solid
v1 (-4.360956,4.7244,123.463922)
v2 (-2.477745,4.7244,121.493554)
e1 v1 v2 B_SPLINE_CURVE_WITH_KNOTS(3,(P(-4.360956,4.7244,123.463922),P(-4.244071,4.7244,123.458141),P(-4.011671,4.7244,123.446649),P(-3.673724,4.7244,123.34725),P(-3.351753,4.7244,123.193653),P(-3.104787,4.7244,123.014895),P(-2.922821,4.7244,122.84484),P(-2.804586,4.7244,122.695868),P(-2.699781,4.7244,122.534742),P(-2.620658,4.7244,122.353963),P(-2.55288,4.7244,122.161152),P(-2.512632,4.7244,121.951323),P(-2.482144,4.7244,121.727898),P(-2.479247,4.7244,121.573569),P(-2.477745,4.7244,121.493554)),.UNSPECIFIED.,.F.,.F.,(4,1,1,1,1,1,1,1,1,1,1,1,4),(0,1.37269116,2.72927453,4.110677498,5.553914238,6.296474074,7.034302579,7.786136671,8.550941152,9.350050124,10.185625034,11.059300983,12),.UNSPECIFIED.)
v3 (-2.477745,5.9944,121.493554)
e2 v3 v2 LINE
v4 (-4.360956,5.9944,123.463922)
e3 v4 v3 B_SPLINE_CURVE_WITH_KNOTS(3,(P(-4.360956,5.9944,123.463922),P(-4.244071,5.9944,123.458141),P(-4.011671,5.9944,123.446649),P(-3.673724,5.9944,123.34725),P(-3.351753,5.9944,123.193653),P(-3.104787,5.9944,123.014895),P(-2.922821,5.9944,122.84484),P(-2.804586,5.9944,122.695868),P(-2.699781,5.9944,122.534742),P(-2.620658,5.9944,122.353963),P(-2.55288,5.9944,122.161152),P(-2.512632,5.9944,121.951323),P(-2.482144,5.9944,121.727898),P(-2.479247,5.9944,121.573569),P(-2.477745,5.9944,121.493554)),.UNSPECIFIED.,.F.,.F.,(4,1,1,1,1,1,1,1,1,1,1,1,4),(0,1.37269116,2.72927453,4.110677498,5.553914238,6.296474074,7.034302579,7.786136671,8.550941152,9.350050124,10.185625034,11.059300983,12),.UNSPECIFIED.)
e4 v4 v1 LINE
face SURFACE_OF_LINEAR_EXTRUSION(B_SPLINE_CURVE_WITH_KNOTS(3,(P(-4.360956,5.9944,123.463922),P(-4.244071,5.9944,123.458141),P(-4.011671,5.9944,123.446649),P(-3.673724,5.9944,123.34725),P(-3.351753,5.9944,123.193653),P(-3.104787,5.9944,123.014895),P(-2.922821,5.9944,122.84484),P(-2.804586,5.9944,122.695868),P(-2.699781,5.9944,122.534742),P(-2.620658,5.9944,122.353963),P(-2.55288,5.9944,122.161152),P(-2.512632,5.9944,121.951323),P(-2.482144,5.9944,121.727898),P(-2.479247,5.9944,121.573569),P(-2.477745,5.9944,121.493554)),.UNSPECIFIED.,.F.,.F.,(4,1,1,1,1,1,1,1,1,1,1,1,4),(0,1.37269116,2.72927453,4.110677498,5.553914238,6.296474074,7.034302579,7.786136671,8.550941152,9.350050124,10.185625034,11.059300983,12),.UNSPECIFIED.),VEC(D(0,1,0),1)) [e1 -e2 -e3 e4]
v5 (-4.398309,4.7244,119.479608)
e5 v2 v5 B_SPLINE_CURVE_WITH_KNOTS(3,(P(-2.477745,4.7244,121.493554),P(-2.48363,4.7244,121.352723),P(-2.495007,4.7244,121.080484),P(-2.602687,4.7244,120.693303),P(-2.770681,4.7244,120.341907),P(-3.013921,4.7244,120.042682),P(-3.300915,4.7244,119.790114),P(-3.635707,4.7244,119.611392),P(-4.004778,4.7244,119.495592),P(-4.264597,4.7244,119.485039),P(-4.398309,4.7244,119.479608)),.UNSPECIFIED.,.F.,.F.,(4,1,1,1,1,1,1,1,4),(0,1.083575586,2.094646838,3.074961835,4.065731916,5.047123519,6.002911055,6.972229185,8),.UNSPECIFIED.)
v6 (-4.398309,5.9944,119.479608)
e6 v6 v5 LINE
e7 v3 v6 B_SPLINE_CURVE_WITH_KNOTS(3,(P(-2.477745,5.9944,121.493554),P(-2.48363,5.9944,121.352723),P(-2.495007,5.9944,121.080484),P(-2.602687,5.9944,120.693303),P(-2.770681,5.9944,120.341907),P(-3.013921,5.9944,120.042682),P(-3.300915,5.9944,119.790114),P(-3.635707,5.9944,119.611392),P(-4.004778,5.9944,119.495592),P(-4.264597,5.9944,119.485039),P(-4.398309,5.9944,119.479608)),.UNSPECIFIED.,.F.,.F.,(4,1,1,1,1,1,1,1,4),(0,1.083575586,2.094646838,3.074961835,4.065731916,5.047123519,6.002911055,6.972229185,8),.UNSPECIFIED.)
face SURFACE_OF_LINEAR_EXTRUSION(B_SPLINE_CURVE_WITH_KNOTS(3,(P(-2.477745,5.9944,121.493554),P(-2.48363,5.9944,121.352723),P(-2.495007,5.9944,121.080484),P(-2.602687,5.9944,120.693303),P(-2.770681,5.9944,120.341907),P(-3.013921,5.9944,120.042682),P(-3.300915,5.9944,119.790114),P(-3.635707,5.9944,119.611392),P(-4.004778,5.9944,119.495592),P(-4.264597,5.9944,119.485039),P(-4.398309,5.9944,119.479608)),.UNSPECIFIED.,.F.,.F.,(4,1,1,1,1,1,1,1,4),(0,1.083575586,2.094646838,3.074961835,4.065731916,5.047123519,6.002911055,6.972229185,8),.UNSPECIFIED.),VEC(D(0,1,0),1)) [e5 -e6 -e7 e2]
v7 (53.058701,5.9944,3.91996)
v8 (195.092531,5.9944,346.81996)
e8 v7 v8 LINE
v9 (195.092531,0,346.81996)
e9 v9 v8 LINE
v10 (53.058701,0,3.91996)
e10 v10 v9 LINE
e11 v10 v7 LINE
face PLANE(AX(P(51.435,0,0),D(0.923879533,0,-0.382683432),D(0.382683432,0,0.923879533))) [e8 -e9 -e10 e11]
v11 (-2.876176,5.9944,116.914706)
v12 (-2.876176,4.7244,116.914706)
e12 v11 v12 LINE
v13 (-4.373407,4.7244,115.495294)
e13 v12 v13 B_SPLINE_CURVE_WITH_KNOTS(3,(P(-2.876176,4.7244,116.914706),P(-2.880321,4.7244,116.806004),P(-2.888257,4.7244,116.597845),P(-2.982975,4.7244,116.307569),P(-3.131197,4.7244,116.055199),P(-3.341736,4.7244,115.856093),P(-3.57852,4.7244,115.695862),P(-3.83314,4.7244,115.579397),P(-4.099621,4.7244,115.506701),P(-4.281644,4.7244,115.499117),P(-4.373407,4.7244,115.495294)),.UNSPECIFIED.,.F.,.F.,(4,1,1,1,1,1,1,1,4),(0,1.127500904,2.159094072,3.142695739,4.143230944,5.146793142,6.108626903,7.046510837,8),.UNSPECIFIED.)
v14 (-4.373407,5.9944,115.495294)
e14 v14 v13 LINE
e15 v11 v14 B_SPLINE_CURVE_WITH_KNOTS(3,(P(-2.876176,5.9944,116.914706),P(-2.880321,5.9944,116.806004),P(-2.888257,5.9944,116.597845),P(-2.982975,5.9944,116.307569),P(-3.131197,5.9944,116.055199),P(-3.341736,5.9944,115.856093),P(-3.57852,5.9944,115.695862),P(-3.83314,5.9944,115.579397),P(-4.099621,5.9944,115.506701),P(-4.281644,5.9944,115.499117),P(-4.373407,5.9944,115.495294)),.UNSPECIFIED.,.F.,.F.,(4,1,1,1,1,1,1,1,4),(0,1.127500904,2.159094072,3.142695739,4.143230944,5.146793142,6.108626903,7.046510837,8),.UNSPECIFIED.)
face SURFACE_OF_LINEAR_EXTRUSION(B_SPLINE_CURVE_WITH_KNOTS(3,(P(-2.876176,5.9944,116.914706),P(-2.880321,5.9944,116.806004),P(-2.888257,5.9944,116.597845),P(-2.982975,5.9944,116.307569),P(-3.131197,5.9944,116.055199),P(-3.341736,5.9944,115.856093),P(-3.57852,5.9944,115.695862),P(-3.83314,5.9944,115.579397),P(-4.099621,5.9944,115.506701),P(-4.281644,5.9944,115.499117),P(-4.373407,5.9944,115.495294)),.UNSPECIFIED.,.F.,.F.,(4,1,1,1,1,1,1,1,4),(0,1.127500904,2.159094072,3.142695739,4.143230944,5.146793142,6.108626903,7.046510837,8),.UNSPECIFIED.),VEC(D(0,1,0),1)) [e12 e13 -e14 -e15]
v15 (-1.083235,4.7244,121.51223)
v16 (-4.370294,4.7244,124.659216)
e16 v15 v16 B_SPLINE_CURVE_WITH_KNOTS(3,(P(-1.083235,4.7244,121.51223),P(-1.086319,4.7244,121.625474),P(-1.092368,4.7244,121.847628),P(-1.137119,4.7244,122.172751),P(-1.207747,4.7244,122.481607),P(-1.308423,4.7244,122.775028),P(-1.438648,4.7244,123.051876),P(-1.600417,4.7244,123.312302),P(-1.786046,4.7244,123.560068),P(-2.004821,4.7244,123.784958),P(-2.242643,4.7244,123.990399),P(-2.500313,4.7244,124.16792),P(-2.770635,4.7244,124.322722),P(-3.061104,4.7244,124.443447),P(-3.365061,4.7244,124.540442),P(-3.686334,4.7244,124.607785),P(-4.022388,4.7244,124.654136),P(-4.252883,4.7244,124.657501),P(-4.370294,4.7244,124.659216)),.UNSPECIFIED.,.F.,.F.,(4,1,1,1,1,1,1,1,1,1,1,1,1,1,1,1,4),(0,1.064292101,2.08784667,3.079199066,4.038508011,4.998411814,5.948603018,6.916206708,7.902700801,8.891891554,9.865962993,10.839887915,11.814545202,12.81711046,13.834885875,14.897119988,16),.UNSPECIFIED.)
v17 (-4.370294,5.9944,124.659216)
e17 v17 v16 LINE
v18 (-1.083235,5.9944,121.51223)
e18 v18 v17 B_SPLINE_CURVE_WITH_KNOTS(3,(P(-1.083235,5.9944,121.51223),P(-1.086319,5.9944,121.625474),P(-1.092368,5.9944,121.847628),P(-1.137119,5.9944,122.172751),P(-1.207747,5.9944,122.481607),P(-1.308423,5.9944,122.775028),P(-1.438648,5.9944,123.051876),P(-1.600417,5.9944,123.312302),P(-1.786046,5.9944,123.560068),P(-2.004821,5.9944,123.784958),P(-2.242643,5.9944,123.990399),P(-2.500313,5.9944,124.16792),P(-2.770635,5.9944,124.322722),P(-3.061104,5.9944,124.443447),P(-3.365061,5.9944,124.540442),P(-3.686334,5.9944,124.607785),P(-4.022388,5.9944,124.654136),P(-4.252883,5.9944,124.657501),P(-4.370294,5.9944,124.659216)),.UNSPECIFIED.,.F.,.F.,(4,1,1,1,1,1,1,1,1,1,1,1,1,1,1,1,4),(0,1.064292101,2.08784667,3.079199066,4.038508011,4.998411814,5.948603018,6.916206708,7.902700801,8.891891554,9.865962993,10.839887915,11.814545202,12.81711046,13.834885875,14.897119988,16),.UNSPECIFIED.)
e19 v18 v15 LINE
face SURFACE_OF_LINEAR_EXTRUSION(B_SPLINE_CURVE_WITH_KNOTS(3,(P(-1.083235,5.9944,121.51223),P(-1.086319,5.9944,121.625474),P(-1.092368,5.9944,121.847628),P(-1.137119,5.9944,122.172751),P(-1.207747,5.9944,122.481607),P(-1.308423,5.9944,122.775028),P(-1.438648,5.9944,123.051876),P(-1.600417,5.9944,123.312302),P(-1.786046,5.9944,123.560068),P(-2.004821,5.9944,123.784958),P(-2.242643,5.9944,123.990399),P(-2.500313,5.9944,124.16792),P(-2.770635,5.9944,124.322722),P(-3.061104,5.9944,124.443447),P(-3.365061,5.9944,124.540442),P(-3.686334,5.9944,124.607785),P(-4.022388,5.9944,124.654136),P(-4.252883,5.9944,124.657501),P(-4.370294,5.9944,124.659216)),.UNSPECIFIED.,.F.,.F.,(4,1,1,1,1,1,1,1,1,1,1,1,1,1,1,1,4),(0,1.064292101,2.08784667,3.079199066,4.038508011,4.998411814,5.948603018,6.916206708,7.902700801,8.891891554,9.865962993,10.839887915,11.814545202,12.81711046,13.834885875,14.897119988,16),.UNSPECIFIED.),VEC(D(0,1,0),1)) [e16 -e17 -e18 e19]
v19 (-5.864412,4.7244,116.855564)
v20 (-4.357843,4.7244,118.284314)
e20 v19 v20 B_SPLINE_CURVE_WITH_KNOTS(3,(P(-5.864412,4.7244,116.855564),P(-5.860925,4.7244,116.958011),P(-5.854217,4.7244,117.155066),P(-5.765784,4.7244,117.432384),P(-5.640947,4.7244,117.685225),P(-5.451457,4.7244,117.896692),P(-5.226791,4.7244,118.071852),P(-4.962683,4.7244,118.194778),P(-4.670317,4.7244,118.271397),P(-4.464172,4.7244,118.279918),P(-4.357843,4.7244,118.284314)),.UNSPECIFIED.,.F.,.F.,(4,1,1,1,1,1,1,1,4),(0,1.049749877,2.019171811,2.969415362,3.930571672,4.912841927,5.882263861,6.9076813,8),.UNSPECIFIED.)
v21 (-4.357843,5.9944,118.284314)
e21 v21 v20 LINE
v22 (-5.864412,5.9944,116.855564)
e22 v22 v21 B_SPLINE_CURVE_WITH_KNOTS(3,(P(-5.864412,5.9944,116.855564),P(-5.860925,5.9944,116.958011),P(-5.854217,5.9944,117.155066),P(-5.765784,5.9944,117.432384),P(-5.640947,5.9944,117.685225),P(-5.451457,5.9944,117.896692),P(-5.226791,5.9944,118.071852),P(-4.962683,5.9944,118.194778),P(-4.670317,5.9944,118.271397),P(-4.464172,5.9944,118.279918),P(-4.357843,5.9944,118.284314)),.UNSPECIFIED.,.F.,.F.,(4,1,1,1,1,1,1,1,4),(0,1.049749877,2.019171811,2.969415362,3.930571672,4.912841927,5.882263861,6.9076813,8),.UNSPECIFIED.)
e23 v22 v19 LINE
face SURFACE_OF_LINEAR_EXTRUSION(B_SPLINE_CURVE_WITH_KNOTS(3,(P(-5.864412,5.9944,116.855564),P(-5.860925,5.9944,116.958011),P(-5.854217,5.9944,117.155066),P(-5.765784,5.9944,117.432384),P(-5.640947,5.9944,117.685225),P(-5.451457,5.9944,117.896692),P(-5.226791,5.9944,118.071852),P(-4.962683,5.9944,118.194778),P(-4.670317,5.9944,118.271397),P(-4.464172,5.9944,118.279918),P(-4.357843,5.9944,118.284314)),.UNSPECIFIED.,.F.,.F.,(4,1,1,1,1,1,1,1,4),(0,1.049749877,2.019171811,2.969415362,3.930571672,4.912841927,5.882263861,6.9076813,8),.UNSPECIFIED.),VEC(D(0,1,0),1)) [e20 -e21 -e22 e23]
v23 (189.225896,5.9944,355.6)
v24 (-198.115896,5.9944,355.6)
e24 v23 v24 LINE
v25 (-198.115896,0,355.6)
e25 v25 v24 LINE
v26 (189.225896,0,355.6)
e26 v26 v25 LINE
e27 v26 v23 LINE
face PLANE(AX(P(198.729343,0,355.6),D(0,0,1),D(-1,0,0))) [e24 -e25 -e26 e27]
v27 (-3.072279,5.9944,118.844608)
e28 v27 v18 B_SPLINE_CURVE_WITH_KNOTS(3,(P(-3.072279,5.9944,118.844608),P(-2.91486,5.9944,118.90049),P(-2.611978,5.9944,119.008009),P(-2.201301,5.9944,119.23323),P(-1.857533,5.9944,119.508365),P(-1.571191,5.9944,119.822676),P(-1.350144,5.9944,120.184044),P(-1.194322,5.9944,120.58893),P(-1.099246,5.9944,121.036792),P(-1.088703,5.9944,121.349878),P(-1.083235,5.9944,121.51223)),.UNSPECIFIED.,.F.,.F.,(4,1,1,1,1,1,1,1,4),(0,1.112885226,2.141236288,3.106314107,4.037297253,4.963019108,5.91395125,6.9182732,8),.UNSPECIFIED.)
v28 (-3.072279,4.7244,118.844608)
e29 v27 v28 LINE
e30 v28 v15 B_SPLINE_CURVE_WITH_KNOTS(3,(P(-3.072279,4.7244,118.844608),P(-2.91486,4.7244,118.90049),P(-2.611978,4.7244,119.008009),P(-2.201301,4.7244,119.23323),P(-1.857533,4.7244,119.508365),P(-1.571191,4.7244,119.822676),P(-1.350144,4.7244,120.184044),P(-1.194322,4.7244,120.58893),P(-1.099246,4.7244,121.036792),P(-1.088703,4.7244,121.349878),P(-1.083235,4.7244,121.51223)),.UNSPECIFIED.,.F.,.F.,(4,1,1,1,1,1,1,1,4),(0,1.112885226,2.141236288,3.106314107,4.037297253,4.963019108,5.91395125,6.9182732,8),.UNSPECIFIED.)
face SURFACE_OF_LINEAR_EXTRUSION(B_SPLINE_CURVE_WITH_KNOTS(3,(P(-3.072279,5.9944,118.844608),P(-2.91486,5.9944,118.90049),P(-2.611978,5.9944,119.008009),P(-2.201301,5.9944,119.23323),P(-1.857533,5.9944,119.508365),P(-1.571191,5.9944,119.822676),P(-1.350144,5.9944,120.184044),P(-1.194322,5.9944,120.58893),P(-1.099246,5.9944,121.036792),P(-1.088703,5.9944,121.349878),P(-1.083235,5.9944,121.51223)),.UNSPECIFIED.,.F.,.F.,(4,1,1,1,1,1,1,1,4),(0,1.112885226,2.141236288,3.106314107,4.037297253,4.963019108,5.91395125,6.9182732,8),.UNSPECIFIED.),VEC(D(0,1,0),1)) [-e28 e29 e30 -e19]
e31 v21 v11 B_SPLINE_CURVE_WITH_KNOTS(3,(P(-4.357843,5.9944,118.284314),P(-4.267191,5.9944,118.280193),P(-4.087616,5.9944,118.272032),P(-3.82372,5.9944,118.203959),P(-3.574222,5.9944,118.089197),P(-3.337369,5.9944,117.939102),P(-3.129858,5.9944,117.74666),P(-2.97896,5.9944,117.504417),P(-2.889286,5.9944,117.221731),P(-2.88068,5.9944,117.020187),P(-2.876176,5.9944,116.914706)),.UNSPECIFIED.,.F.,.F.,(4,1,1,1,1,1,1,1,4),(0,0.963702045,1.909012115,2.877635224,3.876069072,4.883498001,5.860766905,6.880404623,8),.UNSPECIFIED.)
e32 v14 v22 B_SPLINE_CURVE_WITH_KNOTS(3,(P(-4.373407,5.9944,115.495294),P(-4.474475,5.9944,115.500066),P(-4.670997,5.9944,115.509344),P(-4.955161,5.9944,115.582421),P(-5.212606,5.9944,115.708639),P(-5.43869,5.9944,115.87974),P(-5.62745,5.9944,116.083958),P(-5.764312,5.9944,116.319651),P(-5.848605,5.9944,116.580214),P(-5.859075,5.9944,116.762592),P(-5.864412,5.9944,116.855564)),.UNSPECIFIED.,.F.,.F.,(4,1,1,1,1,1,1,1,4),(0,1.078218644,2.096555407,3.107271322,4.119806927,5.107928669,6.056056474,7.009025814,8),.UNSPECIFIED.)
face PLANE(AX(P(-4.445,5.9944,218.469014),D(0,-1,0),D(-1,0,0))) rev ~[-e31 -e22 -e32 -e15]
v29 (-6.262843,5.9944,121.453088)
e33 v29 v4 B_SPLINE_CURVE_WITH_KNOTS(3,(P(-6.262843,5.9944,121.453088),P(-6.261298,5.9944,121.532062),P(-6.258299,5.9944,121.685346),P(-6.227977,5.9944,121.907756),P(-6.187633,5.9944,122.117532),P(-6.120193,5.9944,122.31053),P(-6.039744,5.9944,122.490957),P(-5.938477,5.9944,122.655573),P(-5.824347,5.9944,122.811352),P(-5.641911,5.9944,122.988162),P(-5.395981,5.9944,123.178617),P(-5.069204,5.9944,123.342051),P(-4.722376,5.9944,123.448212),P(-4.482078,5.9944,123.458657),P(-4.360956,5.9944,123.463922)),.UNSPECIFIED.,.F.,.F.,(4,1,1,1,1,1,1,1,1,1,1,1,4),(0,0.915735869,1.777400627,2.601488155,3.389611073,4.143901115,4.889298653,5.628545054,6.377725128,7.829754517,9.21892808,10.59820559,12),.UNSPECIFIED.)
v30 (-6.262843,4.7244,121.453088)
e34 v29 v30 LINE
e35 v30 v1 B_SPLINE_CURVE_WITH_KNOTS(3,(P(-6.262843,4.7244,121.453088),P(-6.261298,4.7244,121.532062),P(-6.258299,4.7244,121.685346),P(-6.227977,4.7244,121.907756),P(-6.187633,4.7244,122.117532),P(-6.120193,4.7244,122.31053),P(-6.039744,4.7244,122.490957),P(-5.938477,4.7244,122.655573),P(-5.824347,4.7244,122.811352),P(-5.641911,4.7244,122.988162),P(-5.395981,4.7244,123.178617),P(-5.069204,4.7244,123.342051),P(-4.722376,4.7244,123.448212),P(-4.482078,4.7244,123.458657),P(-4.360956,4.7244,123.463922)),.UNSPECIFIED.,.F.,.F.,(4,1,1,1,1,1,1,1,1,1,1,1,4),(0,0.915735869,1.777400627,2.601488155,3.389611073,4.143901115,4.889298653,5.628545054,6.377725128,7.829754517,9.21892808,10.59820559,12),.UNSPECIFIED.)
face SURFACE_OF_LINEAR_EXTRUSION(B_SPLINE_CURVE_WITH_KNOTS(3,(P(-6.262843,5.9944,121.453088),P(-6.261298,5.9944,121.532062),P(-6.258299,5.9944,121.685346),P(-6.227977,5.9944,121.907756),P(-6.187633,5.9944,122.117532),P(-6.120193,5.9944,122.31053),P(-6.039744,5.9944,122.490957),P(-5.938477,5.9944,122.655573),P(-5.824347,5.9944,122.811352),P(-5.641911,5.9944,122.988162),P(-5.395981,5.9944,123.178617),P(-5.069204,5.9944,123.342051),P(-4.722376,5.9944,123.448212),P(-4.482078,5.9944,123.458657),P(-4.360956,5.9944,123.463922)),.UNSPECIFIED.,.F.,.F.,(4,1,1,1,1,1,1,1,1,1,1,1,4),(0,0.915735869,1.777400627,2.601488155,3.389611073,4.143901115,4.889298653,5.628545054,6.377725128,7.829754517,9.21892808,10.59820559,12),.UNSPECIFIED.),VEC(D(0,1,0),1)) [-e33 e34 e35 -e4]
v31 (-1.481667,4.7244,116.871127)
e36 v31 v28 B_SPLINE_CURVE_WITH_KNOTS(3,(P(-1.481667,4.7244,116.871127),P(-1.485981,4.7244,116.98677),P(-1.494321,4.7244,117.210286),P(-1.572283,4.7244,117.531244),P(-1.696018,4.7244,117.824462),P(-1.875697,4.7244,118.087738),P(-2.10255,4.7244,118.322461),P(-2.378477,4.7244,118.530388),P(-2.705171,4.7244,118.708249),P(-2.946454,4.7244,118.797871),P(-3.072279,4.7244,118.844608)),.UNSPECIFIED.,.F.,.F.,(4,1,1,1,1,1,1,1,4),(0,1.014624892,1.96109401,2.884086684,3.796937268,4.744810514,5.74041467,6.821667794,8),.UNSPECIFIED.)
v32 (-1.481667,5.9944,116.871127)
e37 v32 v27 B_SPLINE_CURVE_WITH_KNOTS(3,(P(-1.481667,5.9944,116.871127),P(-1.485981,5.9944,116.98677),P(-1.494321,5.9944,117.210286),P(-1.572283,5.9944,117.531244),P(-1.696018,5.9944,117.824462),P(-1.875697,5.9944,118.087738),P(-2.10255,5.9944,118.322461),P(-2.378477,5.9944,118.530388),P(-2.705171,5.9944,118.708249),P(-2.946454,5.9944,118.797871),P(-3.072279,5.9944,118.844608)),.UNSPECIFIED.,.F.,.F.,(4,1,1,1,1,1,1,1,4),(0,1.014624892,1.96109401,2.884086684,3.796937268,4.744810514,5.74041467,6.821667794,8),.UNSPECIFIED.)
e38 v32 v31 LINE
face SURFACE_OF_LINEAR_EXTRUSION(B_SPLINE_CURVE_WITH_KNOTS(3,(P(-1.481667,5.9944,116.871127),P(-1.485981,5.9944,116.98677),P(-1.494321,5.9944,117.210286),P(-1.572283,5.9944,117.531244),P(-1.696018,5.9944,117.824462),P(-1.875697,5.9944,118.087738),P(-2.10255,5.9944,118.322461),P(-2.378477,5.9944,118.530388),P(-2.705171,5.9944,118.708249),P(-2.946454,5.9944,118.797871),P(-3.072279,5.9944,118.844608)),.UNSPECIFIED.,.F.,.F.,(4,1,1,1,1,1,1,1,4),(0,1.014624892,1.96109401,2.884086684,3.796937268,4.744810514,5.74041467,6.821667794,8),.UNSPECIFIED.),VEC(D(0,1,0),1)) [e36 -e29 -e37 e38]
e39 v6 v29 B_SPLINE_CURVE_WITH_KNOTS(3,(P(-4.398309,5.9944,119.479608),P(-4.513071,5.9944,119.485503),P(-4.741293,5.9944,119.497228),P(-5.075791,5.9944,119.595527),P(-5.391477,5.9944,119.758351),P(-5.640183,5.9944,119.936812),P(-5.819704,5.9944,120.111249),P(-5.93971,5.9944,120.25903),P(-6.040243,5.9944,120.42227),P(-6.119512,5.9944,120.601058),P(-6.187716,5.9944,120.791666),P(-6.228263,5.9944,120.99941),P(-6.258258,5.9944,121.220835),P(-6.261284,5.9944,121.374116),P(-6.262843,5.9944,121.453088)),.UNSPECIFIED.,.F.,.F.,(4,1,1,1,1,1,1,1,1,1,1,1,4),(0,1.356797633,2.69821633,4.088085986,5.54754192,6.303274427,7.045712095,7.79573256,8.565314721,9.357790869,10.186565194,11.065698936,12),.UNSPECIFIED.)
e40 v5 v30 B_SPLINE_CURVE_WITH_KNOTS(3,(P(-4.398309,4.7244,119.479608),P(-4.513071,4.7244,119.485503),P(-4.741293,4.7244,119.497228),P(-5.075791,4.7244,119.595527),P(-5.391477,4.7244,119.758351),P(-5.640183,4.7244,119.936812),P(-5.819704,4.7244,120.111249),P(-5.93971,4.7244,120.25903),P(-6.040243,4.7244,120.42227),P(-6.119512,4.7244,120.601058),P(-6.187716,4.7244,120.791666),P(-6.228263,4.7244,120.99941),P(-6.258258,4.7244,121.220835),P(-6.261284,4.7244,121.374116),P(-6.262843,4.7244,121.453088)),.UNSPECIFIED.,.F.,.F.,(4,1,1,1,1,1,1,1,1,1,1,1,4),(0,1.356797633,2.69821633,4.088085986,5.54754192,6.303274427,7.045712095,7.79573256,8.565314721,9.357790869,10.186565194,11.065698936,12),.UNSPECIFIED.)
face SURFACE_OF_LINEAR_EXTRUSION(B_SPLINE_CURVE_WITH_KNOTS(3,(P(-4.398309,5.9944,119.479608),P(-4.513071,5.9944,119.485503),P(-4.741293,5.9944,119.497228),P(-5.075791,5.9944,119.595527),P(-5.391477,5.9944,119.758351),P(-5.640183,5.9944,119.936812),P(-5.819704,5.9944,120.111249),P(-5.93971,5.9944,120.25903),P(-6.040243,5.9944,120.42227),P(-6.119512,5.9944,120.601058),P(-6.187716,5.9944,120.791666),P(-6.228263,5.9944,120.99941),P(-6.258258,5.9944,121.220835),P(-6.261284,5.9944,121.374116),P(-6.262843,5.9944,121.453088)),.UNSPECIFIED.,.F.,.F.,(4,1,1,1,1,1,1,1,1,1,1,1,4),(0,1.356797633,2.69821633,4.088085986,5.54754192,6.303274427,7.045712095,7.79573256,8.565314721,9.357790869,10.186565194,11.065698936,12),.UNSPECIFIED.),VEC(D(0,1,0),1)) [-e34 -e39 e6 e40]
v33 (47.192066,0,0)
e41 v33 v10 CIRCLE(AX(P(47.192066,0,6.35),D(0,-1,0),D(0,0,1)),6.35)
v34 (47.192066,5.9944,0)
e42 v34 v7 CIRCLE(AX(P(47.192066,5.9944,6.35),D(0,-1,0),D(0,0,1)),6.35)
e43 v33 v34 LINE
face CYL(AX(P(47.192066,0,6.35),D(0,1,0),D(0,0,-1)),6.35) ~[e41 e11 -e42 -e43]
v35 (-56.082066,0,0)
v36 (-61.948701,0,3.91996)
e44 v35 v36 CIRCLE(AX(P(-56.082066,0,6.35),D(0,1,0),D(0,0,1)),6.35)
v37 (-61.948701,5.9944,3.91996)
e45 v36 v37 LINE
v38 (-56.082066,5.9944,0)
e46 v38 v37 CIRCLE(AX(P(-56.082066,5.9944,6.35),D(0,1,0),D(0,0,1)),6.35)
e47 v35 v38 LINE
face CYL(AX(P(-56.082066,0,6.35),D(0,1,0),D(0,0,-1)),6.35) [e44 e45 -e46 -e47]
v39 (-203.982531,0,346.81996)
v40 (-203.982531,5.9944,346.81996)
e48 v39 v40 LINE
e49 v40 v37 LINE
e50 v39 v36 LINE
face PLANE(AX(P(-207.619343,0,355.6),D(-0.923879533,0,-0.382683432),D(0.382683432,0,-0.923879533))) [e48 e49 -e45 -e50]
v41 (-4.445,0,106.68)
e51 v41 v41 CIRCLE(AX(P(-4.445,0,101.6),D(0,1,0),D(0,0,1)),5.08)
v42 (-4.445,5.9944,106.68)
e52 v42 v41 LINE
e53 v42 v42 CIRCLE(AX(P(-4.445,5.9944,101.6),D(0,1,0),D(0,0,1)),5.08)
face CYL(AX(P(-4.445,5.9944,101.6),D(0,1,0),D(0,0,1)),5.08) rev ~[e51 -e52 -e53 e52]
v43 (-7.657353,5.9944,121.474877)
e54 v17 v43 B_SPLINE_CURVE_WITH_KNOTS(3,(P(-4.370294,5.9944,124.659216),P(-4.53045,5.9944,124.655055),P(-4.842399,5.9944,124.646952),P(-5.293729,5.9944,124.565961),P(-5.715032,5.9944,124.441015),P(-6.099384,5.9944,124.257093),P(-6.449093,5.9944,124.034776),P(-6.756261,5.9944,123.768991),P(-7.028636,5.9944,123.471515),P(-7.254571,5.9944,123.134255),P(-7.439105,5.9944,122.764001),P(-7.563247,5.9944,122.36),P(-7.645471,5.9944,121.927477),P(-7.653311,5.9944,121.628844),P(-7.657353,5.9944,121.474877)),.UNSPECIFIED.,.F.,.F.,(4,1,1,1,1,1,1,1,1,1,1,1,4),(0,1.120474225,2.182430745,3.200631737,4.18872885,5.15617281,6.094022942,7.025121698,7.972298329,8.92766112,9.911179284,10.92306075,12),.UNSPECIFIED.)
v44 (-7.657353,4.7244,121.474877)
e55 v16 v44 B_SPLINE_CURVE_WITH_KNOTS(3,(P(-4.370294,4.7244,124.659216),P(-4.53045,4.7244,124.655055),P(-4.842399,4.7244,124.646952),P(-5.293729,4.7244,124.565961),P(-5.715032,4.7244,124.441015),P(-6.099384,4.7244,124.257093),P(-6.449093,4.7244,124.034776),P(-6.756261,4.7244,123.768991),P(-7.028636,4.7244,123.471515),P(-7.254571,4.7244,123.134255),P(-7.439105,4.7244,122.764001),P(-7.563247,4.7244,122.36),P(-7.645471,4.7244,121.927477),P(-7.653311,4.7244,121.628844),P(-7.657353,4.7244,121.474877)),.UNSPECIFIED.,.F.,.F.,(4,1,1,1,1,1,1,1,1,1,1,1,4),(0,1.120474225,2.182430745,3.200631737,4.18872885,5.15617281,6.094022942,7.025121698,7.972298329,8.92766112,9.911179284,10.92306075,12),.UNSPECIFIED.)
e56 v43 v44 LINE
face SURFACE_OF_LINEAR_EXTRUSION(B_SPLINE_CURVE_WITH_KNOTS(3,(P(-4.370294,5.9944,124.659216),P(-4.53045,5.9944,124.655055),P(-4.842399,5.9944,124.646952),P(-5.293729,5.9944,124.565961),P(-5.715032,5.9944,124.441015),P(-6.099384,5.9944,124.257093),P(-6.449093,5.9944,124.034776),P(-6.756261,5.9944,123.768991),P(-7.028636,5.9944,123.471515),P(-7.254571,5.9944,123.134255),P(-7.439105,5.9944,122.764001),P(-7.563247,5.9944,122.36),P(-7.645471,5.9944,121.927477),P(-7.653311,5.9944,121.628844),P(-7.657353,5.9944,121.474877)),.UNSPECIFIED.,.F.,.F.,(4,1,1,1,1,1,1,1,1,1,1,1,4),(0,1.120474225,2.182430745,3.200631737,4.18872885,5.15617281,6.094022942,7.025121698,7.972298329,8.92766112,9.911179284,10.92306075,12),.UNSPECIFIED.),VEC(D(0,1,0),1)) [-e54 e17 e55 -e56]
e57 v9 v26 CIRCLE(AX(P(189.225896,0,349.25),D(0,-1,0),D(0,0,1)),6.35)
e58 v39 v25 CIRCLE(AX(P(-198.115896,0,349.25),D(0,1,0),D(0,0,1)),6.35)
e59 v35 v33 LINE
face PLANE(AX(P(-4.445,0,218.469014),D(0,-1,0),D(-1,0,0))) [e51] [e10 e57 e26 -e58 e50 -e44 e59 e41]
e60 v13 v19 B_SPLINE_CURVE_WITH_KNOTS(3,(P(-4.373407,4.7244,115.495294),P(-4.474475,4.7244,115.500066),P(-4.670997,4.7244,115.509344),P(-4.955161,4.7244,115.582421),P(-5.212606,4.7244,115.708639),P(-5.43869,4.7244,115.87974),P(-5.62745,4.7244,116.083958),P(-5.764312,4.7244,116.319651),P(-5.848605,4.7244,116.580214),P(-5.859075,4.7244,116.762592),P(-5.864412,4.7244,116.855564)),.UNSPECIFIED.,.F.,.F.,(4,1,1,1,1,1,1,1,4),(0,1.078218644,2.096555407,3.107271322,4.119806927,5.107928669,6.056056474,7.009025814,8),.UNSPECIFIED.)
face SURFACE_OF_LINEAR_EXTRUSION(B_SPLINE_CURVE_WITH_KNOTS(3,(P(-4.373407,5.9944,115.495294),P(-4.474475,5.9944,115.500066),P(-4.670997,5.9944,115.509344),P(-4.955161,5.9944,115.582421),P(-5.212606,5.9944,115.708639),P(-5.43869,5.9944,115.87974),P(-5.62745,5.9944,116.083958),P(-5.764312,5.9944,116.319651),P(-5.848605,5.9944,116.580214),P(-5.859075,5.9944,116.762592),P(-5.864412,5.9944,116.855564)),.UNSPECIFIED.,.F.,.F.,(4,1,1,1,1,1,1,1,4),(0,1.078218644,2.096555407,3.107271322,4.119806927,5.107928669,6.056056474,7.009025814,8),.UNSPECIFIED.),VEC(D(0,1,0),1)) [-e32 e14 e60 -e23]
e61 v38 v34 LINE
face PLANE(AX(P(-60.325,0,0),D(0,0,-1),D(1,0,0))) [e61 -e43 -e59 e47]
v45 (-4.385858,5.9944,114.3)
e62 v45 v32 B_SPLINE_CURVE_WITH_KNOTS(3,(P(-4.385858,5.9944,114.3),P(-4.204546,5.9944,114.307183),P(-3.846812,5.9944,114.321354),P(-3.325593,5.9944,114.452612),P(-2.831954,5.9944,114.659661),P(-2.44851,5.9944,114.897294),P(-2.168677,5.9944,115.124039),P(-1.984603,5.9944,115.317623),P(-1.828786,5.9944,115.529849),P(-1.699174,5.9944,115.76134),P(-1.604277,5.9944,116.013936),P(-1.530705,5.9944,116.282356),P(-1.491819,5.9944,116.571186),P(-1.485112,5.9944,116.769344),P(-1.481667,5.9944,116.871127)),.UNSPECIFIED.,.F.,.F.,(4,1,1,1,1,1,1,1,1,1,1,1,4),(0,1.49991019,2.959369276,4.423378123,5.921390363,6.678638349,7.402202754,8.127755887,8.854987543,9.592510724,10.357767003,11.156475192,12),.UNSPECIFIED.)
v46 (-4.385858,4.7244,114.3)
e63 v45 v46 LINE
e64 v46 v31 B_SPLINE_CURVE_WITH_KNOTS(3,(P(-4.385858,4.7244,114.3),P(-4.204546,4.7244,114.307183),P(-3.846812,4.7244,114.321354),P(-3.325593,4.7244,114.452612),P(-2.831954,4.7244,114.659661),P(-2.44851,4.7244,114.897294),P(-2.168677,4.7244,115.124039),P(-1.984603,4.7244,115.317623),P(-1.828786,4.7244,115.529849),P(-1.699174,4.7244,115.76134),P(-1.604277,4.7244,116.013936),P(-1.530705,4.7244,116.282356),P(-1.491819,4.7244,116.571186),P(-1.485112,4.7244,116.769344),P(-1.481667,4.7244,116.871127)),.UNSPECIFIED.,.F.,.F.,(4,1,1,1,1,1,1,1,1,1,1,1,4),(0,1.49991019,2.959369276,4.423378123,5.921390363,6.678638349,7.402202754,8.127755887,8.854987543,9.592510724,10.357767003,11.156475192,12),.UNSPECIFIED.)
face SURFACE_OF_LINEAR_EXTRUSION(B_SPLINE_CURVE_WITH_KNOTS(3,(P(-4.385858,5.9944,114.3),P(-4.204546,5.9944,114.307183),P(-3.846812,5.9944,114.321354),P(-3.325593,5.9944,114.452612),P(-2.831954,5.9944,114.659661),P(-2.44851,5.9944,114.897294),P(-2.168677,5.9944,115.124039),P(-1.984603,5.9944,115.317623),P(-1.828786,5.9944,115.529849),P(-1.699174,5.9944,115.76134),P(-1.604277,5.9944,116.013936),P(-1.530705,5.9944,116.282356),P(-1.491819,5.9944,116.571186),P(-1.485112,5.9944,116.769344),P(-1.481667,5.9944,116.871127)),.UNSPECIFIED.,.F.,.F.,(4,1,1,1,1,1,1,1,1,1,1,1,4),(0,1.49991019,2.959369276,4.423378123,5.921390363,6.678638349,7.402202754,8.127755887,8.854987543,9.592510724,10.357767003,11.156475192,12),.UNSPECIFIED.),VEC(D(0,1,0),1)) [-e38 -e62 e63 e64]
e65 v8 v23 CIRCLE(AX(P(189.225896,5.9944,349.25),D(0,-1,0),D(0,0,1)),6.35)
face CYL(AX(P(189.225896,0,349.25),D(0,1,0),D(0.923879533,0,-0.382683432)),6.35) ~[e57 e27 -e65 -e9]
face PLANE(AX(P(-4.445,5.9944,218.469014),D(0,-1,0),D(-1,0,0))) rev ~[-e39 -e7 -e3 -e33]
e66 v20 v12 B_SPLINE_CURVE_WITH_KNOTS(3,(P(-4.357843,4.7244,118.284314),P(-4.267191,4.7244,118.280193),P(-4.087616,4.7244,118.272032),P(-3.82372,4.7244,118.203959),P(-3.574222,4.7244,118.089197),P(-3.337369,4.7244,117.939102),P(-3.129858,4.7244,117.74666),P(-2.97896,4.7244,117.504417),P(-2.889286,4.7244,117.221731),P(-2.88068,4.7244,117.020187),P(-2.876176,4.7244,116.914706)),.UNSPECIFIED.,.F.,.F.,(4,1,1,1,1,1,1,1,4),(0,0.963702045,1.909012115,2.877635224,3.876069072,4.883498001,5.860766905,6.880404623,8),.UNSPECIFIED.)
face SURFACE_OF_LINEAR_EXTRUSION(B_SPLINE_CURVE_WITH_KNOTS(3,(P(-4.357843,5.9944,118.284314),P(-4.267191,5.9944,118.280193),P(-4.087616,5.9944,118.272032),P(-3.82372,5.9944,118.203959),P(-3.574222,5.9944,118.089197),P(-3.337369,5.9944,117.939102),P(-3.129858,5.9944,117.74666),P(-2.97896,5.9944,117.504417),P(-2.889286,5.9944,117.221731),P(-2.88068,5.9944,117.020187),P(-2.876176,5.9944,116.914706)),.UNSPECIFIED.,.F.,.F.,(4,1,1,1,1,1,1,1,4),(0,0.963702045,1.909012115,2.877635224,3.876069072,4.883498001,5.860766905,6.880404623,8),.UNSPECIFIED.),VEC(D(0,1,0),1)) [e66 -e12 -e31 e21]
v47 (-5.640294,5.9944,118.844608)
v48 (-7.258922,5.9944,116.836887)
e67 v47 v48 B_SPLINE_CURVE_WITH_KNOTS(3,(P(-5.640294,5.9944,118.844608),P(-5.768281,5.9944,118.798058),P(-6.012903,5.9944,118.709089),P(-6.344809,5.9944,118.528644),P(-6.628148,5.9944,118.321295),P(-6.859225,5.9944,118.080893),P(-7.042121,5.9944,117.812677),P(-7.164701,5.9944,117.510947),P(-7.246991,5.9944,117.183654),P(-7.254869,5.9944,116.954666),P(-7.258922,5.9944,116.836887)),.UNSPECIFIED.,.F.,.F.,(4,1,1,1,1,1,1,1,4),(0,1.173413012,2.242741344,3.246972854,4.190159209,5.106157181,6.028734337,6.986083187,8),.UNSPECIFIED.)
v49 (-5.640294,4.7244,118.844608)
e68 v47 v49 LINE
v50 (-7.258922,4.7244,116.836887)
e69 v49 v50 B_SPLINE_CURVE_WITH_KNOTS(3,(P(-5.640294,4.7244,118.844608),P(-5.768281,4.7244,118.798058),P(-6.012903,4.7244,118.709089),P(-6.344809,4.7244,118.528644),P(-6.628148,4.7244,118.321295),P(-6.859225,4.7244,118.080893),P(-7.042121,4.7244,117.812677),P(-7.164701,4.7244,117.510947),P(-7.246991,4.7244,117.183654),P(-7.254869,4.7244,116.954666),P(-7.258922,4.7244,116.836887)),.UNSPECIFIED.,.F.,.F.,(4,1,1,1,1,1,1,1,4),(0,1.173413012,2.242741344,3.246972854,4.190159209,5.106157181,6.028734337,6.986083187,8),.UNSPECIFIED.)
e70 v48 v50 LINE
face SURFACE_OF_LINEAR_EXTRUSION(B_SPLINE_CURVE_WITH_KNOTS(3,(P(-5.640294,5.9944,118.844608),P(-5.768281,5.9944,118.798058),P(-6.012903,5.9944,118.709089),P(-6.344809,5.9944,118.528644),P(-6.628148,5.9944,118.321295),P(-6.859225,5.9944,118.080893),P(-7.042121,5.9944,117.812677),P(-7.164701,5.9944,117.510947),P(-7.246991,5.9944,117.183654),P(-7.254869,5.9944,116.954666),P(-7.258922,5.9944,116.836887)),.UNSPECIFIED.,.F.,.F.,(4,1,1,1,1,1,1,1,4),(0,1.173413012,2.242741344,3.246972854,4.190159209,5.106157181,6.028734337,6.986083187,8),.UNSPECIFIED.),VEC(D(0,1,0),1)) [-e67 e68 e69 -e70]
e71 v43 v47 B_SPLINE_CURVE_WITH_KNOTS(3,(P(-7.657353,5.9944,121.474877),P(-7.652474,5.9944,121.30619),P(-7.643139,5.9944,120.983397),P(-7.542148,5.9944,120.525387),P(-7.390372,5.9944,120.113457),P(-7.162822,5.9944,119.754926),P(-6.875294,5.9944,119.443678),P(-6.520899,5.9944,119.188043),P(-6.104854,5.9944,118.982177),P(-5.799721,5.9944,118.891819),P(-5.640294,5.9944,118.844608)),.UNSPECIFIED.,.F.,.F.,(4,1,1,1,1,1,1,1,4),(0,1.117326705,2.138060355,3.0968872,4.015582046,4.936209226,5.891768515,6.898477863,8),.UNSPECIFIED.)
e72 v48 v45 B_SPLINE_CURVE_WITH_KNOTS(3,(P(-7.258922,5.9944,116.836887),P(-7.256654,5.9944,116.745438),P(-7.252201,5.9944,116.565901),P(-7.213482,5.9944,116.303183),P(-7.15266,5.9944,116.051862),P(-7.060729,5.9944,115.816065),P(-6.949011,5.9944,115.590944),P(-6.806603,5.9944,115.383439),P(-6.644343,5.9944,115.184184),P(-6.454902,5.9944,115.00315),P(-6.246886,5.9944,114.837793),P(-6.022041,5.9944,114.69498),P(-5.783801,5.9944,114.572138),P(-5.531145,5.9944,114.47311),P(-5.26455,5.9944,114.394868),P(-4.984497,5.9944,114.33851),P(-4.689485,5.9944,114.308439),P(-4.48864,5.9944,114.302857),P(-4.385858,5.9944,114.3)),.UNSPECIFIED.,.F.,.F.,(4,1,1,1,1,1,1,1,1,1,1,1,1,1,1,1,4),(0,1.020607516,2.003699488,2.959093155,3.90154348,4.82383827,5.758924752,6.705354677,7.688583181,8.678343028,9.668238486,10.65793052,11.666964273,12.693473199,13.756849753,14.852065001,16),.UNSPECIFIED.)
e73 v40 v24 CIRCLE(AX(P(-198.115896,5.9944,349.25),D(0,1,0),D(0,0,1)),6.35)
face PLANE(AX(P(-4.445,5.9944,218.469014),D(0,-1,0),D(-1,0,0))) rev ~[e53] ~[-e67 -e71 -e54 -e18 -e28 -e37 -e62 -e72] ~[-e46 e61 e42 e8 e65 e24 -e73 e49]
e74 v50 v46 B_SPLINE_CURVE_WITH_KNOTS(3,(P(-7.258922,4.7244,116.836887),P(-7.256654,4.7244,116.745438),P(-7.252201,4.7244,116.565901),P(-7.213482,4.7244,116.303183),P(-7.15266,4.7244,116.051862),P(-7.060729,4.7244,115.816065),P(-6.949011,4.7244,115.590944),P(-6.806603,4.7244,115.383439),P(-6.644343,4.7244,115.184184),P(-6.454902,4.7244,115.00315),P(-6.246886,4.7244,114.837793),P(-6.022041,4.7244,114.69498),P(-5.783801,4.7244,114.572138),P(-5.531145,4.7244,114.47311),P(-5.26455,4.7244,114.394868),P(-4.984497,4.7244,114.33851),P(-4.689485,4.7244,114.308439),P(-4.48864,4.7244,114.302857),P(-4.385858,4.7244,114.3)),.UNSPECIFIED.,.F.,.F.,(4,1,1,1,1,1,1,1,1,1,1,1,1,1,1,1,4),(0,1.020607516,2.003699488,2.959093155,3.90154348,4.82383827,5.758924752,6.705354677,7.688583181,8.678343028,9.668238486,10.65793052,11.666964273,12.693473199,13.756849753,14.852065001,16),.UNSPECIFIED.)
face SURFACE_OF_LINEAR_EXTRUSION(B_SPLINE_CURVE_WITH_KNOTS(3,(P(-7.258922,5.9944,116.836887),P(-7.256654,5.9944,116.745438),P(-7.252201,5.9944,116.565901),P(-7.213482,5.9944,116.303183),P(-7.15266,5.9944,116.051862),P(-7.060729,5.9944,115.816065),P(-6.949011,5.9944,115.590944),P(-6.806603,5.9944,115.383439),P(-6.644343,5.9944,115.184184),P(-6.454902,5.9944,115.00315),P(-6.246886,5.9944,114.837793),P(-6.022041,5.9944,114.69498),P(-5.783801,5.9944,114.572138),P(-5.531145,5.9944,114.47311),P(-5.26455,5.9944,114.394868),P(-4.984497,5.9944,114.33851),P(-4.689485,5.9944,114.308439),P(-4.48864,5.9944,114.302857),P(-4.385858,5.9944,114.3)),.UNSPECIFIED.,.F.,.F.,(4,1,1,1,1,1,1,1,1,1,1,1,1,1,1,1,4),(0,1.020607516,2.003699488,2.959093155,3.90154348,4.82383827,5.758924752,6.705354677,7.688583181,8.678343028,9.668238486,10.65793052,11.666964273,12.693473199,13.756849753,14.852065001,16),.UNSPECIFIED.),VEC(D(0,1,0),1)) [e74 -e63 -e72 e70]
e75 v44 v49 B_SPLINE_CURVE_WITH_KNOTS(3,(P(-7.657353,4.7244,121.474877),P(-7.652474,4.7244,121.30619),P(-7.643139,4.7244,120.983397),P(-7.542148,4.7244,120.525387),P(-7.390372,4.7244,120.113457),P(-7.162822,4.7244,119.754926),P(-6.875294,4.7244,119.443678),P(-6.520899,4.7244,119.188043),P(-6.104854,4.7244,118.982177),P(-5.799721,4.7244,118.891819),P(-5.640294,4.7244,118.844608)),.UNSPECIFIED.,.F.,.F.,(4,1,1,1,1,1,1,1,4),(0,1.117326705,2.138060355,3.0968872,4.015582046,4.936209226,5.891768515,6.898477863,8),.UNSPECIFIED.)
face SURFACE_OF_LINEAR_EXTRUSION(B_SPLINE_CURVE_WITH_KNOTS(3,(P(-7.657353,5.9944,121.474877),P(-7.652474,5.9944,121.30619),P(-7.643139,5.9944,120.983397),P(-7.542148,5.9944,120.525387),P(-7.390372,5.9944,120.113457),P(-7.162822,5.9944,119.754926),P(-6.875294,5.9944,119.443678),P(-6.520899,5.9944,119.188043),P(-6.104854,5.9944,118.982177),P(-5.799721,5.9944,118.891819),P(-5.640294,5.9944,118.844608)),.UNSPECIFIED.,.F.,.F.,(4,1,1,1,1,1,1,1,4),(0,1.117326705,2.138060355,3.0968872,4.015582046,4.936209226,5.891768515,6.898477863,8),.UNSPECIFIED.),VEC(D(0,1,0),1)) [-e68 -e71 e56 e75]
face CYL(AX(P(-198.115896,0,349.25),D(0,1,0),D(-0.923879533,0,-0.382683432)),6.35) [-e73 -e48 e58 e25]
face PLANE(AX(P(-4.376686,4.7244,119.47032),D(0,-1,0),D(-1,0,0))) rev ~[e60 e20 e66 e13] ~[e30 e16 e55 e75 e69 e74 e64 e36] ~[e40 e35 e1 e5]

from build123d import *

# Parameters (mm, degrees)
BOSS_EXTRUDE1_DEPTH = 5.9944
SKETCH2_R           = 5.08
CUT_EXTRUDE1_DEPTH  = 412.816809185
CUT_EXTRUDE2_DEPTH  = 1.27
FILLET1_R           = 6.35


with BuildPart() as part:
    # Sketch1 → Boss-Extrude1 (new body)
    with BuildSketch(Plane(origin=(0, 0, 0), x_dir=(1, 0, 0), z_dir=(0, 1, 0))):
        Polygon((-60.325, 0), (51.435, 0), (198.72934278, -355.6), (-207.61934278, -355.6), align=None)
    extrude(amount=BOSS_EXTRUDE1_DEPTH)

    # Sketch2 → Cut-Extrude1 (cut, through all)
    with BuildSketch(Plane(origin=(0, 5.9944, 0), x_dir=(1, 0, 0), z_dir=(0, 1, 0))):
        with Locations(Location((-4.445, -101.6, 0), (0, 0, 270))):
            Circle(SKETCH2_R)
    extrude(amount=-CUT_EXTRUDE1_DEPTH, mode=Mode.SUBTRACT)

    # Sketch3 → Cut-Extrude2 (cut)
    with BuildSketch(Plane(origin=(0, 5.9944, 0), x_dir=(1, 0, 0), z_dir=(0, 1, 0))):
        with BuildLine():
            add(Edge.make_bspline(
                [(-5.640294118, -118.844607843), (-5.768281461, -118.7980584), (-6.012903349, -118.709088566), (-6.344808892, -118.528644016), (-6.628148212, -118.321295156), (-6.859224633, -118.080893307), (-7.042120778, -117.812676631), (-7.164700527, -117.51094663), (-7.246991297, -117.183653612), (-7.254869453, -116.9546664), (-7.258921569, -116.836887255)],
                knots=[0, 0, 0, 0, 1.173413012, 2.242741344, 3.246972854, 4.190159209, 5.106157181, 6.028734337, 6.986083187, 8, 8, 8, 8], degree=3))
            add(Edge.make_bspline(
                [(-7.258921569, -116.836887255), (-7.256653552, -116.74543812), (-7.252200886, -116.565901343), (-7.213482148, -116.303182669), (-7.152660448, -116.051861575), (-7.060728999, -115.816064709), (-6.94901075, -115.590943888), (-6.806603031, -115.383438523), (-6.644343219, -115.184183893), (-6.45490221, -115.003149717), (-6.246885977, -114.837793075), (-6.022041475, -114.69497982), (-5.7838008, -114.572137861), (-5.531145358, -114.473110122), (-5.264549685, -114.394868468), (-4.984496654, -114.338509959), (-4.689484701, -114.308439202), (-4.488640248, -114.302856801), (-4.385857843, -114.3)],
                knots=[0, 0, 0, 0, 1.020607516, 2.003699488, 2.959093155, 3.90154348, 4.82383827, 5.758924752, 6.705354677, 7.688583181, 8.678343028, 9.668238486, 10.65793052, 11.666964273, 12.693473199, 13.756849753, 14.852065001, 16, 16, 16, 16], degree=3))
            add(Edge.make_bspline(
                [(-4.385857843, -114.3), (-4.204545978, -114.307182695), (-3.846812052, -114.321354376), (-3.325593417, -114.452611845), (-2.831953616, -114.659661213), (-2.448510098, -114.897294215), (-2.168676808, -115.124039422), (-1.984603203, -115.31762303), (-1.82878598, -115.529848563), (-1.699174378, -115.761340468), (-1.604276743, -116.013935686), (-1.53070498, -116.282355633), (-1.491818503, -116.571186294), (-1.485111623, -116.769344483), (-1.481666667, -116.871127451)],
                knots=[0, 0, 0, 0, 1.49991019, 2.959369276, 4.423378123, 5.921390363, 6.678638349, 7.402202754, 8.127755887, 8.854987543, 9.592510724, 10.357767003, 11.156475192, 12, 12, 12, 12], degree=3))
            add(Edge.make_bspline(
                [(-1.481666667, -116.871127451), (-1.485981374, -116.986769655), (-1.494320954, -117.210285987), (-1.572283013, -117.531243569), (-1.696017648, -117.824461788), (-1.875697281, -118.087738493), (-2.102550457, -118.322461305), (-2.37847657, -118.530388471), (-2.705170536, -118.708248837), (-2.946454343, -118.79787135), (-3.072279412, -118.844607843)],
                knots=[0, 0, 0, 0, 1.014624892, 1.96109401, 2.884086684, 3.796937268, 4.744810514, 5.74041467, 6.821667794, 8, 8, 8, 8], degree=3))
            add(Edge.make_bspline(
                [(-3.072279412, -118.844607843), (-2.914859742, -118.900489884), (-2.611977915, -119.008009197), (-2.201301068, -119.233230072), (-1.85753283, -119.508365329), (-1.571190747, -119.822675989), (-1.3501441, -120.184044387), (-1.194321746, -120.588929683), (-1.099246075, -121.036791949), (-1.088702629, -121.349878452), (-1.083235294, -121.512230392)],
                knots=[0, 0, 0, 0, 1.112885226, 2.141236288, 3.106314107, 4.037297253, 4.963019108, 5.91395125, 6.9182732, 8, 8, 8, 8], degree=3))
            add(Edge.make_bspline(
                [(-1.083235294, -121.512230392), (-1.086318941, -121.625474405), (-1.092368202, -121.847627831), (-1.137118864, -122.172750949), (-1.207746531, -122.481606909), (-1.308423274, -122.77502823), (-1.438648283, -123.051876406), (-1.600417225, -123.312302358), (-1.786045911, -123.560068261), (-2.004820521, -123.784957815), (-2.242643145, -123.990398791), (-2.500313239, -124.167920217), (-2.770635203, -124.32272247), (-3.061103925, -124.443446772), (-3.365060773, -124.540441866), (-3.686334259, -124.607785027), (-4.022388276, -124.65413566), (-4.252883136, -124.657501283), (-4.370294118, -124.659215686)],
                knots=[0, 0, 0, 0, 1.064292101, 2.08784667, 3.079199066, 4.038508011, 4.998411814, 5.948603018, 6.916206708, 7.902700801, 8.891891554, 9.865962993, 10.839887915, 11.814545202, 12.81711046, 13.834885875, 14.897119988, 16, 16, 16, 16], degree=3))
            add(Edge.make_bspline(
                [(-4.370294118, -124.659215686), (-4.530450496, -124.655055295), (-4.842398953, -124.646951791), (-5.293729483, -124.565960727), (-5.71503222, -124.441015444), (-6.099384044, -124.257093489), (-6.449092805, -124.034776245), (-6.756260599, -123.768991245), (-7.028635641, -123.471514872), (-7.2545707, -123.134254948), (-7.439104567, -122.764001399), (-7.56324669, -122.360000473), (-7.645470959, -121.927477068), (-7.653310887, -121.628844365), (-7.657352941, -121.474877451)],
                knots=[0, 0, 0, 0, 1.120474225, 2.182430745, 3.200631737, 4.18872885, 5.15617281, 6.094022942, 7.025121698, 7.972298329, 8.92766112, 9.911179284, 10.92306075, 12, 12, 12, 12], degree=3))
            add(Edge.make_bspline(
                [(-7.657352941, -121.474877451), (-7.652474419, -121.306189583), (-7.643139125, -120.983396938), (-7.542148126, -120.525386814), (-7.390372291, -120.11345735), (-7.162821914, -119.754925593), (-6.875293668, -119.443678395), (-6.520899225, -119.188042681), (-6.1048536, -118.982176757), (-5.79972148, -118.891818695), (-5.640294118, -118.844607843)],
                knots=[0, 0, 0, 0, 1.117326705, 2.138060355, 3.0968872, 4.015582046, 4.936209226, 5.891768515, 6.898477863, 8, 8, 8, 8], degree=3))
        make_face()
        with BuildLine():
            add(Edge.make_bspline(
                [(-5.864411765, -116.855563725), (-5.860924518, -116.958010868), (-5.854216871, -117.155065791), (-5.765784417, -117.432384032), (-5.640947106, -117.685224799), (-5.451456684, -117.896691957), (-5.226791082, -118.071851556), (-4.962683383, -118.194777943), (-4.670317297, -118.271397042), (-4.464171965, -118.279918431), (-4.357843137, -118.284313725)],
                knots=[0, 0, 0, 0, 1.049749877, 2.019171811, 2.969415362, 3.930571672, 4.912841927, 5.882263861, 6.9076813, 8, 8, 8, 8], degree=3))
            add(Edge.make_bspline(
                [(-4.357843137, -118.284313725), (-4.267190664, -118.280193467), (-4.087615794, -118.272031584), (-3.823719553, -118.203958648), (-3.574222101, -118.089196592), (-3.337369037, -117.939101774), (-3.129857845, -117.746660089), (-2.978959746, -117.504417071), (-2.889286093, -117.221730721), (-2.880680381, -117.020186607), (-2.876176471, -116.914705882)],
                knots=[0, 0, 0, 0, 0.963702045, 1.909012115, 2.877635224, 3.876069072, 4.883498001, 5.860766905, 6.880404623, 8, 8, 8, 8], degree=3))
            add(Edge.make_bspline(
                [(-2.876176471, -116.914705882), (-2.880320884, -116.806003587), (-2.888257178, -116.597845456), (-2.982975445, -116.307569109), (-3.13119673, -116.055199378), (-3.34173584, -115.85609348), (-3.578520019, -115.695862312), (-3.83314048, -115.57939674), (-4.099621151, -115.506701151), (-4.28164435, -115.49911732), (-4.373406863, -115.495294118)],
                knots=[0, 0, 0, 0, 1.127500904, 2.159094072, 3.142695739, 4.143230944, 5.146793142, 6.108626903, 7.046510837, 8, 8, 8, 8], degree=3))
            add(Edge.make_bspline(
                [(-4.373406863, -115.495294118), (-4.474474554, -115.500065785), (-4.670996862, -115.509344111), (-4.955160717, -115.582421103), (-5.212606095, -115.70863905), (-5.438689503, -115.879739544), (-5.62744998, -116.08395805), (-5.764312365, -116.319650961), (-5.848604785, -116.580214386), (-5.859074542, -116.762592094), (-5.864411765, -116.855563725)],
                knots=[0, 0, 0, 0, 1.078218644, 2.096555407, 3.107271322, 4.119806927, 5.107928669, 6.056056474, 7.009025814, 8, 8, 8, 8], degree=3))
        make_face(mode=Mode.SUBTRACT)
        with BuildLine():
            add(Edge.make_bspline(
                [(-6.262843137, -121.453088235), (-6.261298067, -121.532062003), (-6.258299158, -121.685346403), (-6.227977336, -121.907756099), (-6.187633061, -122.117531737), (-6.120192673, -122.310529782), (-6.039744497, -122.490957051), (-5.938476689, -122.65557316), (-5.82434678, -122.811352176), (-5.641910932, -122.988161746), (-5.395980801, -123.178617287), (-5.069204271, -123.342051313), (-4.722376449, -123.44821201), (-4.482077929, -123.45865686), (-4.360955882, -123.463921569)],
                knots=[0, 0, 0, 0, 0.915735869, 1.777400627, 2.601488155, 3.389611073, 4.143901115, 4.889298653, 5.628545054, 6.377725128, 7.829754517, 9.21892808, 10.59820559, 12, 12, 12, 12], degree=3))
            add(Edge.make_bspline(
                [(-4.360955882, -123.463921569), (-4.244070539, -123.45814149), (-4.011671439, -123.44664916), (-3.673723511, -123.347249825), (-3.351752928, -123.193652736), (-3.104787343, -123.014894989), (-2.92282109, -122.844840257), (-2.804586484, -122.695868496), (-2.699780546, -122.534741789), (-2.62065757, -122.353962845), (-2.552880219, -122.16115171), (-2.512632107, -121.951322958), (-2.482143549, -121.727898463), (-2.479246916, -121.573569079), (-2.477745098, -121.493553922)],
                knots=[0, 0, 0, 0, 1.37269116, 2.72927453, 4.110677498, 5.553914238, 6.296474074, 7.034302579, 7.786136671, 8.550941152, 9.350050124, 10.185625034, 11.059300983, 12, 12, 12, 12], degree=3))
            add(Edge.make_bspline(
                [(-2.477745098, -121.493553922), (-2.483630192, -121.352722772), (-2.495006597, -121.080483782), (-2.60268714, -120.693302545), (-2.770681208, -120.341906837), (-3.013921411, -120.042681729), (-3.300915016, -119.790113634), (-3.635707493, -119.611392315), (-4.00477824, -119.495591574), (-4.264597088, -119.485038711), (-4.398308824, -119.479607843)],
                knots=[0, 0, 0, 0, 1.083575586, 2.094646838, 3.074961835, 4.065731916, 5.047123519, 6.002911055, 6.972229185, 8, 8, 8, 8], degree=3))
            add(Edge.make_bspline(
                [(-4.398308824, -119.479607843), (-4.51307051, -119.48550344), (-4.741293091, -119.497227809), (-5.075791284, -119.595526955), (-5.391477394, -119.758351267), (-5.640183053, -119.936812163), (-5.819703541, -120.111248651), (-5.939709917, -120.259029867), (-6.040242629, -120.422270239), (-6.119512002, -120.601057575), (-6.187716213, -120.79166566), (-6.228262868, -120.999410109), (-6.258258414, -121.220834879), (-6.261284213, -121.374116104), (-6.262843137, -121.453088235)],
                knots=[0, 0, 0, 0, 1.356797633, 2.69821633, 4.088085986, 5.54754192, 6.303274427, 7.045712095, 7.79573256, 8.565314721, 9.357790869, 10.186565194, 11.065698936, 12, 12, 12, 12], degree=3))
        make_face(mode=Mode.SUBTRACT)
    extrude(amount=-CUT_EXTRUDE2_DEPTH, mode=Mode.SUBTRACT)

    # Fillet1
    fillet1_edges = [part.edges().sort_by_distance(p)[0] for p in [
        (198.72934278, 2.9972, 355.6),
        (-207.61934278, 2.9972, 355.6),
        (-60.325, 2.9972, 0),
        (51.435, 2.9972, 0),
    ]]
    fillet(fillet1_edges, radius=FILLET1_R)


solid = part.part
